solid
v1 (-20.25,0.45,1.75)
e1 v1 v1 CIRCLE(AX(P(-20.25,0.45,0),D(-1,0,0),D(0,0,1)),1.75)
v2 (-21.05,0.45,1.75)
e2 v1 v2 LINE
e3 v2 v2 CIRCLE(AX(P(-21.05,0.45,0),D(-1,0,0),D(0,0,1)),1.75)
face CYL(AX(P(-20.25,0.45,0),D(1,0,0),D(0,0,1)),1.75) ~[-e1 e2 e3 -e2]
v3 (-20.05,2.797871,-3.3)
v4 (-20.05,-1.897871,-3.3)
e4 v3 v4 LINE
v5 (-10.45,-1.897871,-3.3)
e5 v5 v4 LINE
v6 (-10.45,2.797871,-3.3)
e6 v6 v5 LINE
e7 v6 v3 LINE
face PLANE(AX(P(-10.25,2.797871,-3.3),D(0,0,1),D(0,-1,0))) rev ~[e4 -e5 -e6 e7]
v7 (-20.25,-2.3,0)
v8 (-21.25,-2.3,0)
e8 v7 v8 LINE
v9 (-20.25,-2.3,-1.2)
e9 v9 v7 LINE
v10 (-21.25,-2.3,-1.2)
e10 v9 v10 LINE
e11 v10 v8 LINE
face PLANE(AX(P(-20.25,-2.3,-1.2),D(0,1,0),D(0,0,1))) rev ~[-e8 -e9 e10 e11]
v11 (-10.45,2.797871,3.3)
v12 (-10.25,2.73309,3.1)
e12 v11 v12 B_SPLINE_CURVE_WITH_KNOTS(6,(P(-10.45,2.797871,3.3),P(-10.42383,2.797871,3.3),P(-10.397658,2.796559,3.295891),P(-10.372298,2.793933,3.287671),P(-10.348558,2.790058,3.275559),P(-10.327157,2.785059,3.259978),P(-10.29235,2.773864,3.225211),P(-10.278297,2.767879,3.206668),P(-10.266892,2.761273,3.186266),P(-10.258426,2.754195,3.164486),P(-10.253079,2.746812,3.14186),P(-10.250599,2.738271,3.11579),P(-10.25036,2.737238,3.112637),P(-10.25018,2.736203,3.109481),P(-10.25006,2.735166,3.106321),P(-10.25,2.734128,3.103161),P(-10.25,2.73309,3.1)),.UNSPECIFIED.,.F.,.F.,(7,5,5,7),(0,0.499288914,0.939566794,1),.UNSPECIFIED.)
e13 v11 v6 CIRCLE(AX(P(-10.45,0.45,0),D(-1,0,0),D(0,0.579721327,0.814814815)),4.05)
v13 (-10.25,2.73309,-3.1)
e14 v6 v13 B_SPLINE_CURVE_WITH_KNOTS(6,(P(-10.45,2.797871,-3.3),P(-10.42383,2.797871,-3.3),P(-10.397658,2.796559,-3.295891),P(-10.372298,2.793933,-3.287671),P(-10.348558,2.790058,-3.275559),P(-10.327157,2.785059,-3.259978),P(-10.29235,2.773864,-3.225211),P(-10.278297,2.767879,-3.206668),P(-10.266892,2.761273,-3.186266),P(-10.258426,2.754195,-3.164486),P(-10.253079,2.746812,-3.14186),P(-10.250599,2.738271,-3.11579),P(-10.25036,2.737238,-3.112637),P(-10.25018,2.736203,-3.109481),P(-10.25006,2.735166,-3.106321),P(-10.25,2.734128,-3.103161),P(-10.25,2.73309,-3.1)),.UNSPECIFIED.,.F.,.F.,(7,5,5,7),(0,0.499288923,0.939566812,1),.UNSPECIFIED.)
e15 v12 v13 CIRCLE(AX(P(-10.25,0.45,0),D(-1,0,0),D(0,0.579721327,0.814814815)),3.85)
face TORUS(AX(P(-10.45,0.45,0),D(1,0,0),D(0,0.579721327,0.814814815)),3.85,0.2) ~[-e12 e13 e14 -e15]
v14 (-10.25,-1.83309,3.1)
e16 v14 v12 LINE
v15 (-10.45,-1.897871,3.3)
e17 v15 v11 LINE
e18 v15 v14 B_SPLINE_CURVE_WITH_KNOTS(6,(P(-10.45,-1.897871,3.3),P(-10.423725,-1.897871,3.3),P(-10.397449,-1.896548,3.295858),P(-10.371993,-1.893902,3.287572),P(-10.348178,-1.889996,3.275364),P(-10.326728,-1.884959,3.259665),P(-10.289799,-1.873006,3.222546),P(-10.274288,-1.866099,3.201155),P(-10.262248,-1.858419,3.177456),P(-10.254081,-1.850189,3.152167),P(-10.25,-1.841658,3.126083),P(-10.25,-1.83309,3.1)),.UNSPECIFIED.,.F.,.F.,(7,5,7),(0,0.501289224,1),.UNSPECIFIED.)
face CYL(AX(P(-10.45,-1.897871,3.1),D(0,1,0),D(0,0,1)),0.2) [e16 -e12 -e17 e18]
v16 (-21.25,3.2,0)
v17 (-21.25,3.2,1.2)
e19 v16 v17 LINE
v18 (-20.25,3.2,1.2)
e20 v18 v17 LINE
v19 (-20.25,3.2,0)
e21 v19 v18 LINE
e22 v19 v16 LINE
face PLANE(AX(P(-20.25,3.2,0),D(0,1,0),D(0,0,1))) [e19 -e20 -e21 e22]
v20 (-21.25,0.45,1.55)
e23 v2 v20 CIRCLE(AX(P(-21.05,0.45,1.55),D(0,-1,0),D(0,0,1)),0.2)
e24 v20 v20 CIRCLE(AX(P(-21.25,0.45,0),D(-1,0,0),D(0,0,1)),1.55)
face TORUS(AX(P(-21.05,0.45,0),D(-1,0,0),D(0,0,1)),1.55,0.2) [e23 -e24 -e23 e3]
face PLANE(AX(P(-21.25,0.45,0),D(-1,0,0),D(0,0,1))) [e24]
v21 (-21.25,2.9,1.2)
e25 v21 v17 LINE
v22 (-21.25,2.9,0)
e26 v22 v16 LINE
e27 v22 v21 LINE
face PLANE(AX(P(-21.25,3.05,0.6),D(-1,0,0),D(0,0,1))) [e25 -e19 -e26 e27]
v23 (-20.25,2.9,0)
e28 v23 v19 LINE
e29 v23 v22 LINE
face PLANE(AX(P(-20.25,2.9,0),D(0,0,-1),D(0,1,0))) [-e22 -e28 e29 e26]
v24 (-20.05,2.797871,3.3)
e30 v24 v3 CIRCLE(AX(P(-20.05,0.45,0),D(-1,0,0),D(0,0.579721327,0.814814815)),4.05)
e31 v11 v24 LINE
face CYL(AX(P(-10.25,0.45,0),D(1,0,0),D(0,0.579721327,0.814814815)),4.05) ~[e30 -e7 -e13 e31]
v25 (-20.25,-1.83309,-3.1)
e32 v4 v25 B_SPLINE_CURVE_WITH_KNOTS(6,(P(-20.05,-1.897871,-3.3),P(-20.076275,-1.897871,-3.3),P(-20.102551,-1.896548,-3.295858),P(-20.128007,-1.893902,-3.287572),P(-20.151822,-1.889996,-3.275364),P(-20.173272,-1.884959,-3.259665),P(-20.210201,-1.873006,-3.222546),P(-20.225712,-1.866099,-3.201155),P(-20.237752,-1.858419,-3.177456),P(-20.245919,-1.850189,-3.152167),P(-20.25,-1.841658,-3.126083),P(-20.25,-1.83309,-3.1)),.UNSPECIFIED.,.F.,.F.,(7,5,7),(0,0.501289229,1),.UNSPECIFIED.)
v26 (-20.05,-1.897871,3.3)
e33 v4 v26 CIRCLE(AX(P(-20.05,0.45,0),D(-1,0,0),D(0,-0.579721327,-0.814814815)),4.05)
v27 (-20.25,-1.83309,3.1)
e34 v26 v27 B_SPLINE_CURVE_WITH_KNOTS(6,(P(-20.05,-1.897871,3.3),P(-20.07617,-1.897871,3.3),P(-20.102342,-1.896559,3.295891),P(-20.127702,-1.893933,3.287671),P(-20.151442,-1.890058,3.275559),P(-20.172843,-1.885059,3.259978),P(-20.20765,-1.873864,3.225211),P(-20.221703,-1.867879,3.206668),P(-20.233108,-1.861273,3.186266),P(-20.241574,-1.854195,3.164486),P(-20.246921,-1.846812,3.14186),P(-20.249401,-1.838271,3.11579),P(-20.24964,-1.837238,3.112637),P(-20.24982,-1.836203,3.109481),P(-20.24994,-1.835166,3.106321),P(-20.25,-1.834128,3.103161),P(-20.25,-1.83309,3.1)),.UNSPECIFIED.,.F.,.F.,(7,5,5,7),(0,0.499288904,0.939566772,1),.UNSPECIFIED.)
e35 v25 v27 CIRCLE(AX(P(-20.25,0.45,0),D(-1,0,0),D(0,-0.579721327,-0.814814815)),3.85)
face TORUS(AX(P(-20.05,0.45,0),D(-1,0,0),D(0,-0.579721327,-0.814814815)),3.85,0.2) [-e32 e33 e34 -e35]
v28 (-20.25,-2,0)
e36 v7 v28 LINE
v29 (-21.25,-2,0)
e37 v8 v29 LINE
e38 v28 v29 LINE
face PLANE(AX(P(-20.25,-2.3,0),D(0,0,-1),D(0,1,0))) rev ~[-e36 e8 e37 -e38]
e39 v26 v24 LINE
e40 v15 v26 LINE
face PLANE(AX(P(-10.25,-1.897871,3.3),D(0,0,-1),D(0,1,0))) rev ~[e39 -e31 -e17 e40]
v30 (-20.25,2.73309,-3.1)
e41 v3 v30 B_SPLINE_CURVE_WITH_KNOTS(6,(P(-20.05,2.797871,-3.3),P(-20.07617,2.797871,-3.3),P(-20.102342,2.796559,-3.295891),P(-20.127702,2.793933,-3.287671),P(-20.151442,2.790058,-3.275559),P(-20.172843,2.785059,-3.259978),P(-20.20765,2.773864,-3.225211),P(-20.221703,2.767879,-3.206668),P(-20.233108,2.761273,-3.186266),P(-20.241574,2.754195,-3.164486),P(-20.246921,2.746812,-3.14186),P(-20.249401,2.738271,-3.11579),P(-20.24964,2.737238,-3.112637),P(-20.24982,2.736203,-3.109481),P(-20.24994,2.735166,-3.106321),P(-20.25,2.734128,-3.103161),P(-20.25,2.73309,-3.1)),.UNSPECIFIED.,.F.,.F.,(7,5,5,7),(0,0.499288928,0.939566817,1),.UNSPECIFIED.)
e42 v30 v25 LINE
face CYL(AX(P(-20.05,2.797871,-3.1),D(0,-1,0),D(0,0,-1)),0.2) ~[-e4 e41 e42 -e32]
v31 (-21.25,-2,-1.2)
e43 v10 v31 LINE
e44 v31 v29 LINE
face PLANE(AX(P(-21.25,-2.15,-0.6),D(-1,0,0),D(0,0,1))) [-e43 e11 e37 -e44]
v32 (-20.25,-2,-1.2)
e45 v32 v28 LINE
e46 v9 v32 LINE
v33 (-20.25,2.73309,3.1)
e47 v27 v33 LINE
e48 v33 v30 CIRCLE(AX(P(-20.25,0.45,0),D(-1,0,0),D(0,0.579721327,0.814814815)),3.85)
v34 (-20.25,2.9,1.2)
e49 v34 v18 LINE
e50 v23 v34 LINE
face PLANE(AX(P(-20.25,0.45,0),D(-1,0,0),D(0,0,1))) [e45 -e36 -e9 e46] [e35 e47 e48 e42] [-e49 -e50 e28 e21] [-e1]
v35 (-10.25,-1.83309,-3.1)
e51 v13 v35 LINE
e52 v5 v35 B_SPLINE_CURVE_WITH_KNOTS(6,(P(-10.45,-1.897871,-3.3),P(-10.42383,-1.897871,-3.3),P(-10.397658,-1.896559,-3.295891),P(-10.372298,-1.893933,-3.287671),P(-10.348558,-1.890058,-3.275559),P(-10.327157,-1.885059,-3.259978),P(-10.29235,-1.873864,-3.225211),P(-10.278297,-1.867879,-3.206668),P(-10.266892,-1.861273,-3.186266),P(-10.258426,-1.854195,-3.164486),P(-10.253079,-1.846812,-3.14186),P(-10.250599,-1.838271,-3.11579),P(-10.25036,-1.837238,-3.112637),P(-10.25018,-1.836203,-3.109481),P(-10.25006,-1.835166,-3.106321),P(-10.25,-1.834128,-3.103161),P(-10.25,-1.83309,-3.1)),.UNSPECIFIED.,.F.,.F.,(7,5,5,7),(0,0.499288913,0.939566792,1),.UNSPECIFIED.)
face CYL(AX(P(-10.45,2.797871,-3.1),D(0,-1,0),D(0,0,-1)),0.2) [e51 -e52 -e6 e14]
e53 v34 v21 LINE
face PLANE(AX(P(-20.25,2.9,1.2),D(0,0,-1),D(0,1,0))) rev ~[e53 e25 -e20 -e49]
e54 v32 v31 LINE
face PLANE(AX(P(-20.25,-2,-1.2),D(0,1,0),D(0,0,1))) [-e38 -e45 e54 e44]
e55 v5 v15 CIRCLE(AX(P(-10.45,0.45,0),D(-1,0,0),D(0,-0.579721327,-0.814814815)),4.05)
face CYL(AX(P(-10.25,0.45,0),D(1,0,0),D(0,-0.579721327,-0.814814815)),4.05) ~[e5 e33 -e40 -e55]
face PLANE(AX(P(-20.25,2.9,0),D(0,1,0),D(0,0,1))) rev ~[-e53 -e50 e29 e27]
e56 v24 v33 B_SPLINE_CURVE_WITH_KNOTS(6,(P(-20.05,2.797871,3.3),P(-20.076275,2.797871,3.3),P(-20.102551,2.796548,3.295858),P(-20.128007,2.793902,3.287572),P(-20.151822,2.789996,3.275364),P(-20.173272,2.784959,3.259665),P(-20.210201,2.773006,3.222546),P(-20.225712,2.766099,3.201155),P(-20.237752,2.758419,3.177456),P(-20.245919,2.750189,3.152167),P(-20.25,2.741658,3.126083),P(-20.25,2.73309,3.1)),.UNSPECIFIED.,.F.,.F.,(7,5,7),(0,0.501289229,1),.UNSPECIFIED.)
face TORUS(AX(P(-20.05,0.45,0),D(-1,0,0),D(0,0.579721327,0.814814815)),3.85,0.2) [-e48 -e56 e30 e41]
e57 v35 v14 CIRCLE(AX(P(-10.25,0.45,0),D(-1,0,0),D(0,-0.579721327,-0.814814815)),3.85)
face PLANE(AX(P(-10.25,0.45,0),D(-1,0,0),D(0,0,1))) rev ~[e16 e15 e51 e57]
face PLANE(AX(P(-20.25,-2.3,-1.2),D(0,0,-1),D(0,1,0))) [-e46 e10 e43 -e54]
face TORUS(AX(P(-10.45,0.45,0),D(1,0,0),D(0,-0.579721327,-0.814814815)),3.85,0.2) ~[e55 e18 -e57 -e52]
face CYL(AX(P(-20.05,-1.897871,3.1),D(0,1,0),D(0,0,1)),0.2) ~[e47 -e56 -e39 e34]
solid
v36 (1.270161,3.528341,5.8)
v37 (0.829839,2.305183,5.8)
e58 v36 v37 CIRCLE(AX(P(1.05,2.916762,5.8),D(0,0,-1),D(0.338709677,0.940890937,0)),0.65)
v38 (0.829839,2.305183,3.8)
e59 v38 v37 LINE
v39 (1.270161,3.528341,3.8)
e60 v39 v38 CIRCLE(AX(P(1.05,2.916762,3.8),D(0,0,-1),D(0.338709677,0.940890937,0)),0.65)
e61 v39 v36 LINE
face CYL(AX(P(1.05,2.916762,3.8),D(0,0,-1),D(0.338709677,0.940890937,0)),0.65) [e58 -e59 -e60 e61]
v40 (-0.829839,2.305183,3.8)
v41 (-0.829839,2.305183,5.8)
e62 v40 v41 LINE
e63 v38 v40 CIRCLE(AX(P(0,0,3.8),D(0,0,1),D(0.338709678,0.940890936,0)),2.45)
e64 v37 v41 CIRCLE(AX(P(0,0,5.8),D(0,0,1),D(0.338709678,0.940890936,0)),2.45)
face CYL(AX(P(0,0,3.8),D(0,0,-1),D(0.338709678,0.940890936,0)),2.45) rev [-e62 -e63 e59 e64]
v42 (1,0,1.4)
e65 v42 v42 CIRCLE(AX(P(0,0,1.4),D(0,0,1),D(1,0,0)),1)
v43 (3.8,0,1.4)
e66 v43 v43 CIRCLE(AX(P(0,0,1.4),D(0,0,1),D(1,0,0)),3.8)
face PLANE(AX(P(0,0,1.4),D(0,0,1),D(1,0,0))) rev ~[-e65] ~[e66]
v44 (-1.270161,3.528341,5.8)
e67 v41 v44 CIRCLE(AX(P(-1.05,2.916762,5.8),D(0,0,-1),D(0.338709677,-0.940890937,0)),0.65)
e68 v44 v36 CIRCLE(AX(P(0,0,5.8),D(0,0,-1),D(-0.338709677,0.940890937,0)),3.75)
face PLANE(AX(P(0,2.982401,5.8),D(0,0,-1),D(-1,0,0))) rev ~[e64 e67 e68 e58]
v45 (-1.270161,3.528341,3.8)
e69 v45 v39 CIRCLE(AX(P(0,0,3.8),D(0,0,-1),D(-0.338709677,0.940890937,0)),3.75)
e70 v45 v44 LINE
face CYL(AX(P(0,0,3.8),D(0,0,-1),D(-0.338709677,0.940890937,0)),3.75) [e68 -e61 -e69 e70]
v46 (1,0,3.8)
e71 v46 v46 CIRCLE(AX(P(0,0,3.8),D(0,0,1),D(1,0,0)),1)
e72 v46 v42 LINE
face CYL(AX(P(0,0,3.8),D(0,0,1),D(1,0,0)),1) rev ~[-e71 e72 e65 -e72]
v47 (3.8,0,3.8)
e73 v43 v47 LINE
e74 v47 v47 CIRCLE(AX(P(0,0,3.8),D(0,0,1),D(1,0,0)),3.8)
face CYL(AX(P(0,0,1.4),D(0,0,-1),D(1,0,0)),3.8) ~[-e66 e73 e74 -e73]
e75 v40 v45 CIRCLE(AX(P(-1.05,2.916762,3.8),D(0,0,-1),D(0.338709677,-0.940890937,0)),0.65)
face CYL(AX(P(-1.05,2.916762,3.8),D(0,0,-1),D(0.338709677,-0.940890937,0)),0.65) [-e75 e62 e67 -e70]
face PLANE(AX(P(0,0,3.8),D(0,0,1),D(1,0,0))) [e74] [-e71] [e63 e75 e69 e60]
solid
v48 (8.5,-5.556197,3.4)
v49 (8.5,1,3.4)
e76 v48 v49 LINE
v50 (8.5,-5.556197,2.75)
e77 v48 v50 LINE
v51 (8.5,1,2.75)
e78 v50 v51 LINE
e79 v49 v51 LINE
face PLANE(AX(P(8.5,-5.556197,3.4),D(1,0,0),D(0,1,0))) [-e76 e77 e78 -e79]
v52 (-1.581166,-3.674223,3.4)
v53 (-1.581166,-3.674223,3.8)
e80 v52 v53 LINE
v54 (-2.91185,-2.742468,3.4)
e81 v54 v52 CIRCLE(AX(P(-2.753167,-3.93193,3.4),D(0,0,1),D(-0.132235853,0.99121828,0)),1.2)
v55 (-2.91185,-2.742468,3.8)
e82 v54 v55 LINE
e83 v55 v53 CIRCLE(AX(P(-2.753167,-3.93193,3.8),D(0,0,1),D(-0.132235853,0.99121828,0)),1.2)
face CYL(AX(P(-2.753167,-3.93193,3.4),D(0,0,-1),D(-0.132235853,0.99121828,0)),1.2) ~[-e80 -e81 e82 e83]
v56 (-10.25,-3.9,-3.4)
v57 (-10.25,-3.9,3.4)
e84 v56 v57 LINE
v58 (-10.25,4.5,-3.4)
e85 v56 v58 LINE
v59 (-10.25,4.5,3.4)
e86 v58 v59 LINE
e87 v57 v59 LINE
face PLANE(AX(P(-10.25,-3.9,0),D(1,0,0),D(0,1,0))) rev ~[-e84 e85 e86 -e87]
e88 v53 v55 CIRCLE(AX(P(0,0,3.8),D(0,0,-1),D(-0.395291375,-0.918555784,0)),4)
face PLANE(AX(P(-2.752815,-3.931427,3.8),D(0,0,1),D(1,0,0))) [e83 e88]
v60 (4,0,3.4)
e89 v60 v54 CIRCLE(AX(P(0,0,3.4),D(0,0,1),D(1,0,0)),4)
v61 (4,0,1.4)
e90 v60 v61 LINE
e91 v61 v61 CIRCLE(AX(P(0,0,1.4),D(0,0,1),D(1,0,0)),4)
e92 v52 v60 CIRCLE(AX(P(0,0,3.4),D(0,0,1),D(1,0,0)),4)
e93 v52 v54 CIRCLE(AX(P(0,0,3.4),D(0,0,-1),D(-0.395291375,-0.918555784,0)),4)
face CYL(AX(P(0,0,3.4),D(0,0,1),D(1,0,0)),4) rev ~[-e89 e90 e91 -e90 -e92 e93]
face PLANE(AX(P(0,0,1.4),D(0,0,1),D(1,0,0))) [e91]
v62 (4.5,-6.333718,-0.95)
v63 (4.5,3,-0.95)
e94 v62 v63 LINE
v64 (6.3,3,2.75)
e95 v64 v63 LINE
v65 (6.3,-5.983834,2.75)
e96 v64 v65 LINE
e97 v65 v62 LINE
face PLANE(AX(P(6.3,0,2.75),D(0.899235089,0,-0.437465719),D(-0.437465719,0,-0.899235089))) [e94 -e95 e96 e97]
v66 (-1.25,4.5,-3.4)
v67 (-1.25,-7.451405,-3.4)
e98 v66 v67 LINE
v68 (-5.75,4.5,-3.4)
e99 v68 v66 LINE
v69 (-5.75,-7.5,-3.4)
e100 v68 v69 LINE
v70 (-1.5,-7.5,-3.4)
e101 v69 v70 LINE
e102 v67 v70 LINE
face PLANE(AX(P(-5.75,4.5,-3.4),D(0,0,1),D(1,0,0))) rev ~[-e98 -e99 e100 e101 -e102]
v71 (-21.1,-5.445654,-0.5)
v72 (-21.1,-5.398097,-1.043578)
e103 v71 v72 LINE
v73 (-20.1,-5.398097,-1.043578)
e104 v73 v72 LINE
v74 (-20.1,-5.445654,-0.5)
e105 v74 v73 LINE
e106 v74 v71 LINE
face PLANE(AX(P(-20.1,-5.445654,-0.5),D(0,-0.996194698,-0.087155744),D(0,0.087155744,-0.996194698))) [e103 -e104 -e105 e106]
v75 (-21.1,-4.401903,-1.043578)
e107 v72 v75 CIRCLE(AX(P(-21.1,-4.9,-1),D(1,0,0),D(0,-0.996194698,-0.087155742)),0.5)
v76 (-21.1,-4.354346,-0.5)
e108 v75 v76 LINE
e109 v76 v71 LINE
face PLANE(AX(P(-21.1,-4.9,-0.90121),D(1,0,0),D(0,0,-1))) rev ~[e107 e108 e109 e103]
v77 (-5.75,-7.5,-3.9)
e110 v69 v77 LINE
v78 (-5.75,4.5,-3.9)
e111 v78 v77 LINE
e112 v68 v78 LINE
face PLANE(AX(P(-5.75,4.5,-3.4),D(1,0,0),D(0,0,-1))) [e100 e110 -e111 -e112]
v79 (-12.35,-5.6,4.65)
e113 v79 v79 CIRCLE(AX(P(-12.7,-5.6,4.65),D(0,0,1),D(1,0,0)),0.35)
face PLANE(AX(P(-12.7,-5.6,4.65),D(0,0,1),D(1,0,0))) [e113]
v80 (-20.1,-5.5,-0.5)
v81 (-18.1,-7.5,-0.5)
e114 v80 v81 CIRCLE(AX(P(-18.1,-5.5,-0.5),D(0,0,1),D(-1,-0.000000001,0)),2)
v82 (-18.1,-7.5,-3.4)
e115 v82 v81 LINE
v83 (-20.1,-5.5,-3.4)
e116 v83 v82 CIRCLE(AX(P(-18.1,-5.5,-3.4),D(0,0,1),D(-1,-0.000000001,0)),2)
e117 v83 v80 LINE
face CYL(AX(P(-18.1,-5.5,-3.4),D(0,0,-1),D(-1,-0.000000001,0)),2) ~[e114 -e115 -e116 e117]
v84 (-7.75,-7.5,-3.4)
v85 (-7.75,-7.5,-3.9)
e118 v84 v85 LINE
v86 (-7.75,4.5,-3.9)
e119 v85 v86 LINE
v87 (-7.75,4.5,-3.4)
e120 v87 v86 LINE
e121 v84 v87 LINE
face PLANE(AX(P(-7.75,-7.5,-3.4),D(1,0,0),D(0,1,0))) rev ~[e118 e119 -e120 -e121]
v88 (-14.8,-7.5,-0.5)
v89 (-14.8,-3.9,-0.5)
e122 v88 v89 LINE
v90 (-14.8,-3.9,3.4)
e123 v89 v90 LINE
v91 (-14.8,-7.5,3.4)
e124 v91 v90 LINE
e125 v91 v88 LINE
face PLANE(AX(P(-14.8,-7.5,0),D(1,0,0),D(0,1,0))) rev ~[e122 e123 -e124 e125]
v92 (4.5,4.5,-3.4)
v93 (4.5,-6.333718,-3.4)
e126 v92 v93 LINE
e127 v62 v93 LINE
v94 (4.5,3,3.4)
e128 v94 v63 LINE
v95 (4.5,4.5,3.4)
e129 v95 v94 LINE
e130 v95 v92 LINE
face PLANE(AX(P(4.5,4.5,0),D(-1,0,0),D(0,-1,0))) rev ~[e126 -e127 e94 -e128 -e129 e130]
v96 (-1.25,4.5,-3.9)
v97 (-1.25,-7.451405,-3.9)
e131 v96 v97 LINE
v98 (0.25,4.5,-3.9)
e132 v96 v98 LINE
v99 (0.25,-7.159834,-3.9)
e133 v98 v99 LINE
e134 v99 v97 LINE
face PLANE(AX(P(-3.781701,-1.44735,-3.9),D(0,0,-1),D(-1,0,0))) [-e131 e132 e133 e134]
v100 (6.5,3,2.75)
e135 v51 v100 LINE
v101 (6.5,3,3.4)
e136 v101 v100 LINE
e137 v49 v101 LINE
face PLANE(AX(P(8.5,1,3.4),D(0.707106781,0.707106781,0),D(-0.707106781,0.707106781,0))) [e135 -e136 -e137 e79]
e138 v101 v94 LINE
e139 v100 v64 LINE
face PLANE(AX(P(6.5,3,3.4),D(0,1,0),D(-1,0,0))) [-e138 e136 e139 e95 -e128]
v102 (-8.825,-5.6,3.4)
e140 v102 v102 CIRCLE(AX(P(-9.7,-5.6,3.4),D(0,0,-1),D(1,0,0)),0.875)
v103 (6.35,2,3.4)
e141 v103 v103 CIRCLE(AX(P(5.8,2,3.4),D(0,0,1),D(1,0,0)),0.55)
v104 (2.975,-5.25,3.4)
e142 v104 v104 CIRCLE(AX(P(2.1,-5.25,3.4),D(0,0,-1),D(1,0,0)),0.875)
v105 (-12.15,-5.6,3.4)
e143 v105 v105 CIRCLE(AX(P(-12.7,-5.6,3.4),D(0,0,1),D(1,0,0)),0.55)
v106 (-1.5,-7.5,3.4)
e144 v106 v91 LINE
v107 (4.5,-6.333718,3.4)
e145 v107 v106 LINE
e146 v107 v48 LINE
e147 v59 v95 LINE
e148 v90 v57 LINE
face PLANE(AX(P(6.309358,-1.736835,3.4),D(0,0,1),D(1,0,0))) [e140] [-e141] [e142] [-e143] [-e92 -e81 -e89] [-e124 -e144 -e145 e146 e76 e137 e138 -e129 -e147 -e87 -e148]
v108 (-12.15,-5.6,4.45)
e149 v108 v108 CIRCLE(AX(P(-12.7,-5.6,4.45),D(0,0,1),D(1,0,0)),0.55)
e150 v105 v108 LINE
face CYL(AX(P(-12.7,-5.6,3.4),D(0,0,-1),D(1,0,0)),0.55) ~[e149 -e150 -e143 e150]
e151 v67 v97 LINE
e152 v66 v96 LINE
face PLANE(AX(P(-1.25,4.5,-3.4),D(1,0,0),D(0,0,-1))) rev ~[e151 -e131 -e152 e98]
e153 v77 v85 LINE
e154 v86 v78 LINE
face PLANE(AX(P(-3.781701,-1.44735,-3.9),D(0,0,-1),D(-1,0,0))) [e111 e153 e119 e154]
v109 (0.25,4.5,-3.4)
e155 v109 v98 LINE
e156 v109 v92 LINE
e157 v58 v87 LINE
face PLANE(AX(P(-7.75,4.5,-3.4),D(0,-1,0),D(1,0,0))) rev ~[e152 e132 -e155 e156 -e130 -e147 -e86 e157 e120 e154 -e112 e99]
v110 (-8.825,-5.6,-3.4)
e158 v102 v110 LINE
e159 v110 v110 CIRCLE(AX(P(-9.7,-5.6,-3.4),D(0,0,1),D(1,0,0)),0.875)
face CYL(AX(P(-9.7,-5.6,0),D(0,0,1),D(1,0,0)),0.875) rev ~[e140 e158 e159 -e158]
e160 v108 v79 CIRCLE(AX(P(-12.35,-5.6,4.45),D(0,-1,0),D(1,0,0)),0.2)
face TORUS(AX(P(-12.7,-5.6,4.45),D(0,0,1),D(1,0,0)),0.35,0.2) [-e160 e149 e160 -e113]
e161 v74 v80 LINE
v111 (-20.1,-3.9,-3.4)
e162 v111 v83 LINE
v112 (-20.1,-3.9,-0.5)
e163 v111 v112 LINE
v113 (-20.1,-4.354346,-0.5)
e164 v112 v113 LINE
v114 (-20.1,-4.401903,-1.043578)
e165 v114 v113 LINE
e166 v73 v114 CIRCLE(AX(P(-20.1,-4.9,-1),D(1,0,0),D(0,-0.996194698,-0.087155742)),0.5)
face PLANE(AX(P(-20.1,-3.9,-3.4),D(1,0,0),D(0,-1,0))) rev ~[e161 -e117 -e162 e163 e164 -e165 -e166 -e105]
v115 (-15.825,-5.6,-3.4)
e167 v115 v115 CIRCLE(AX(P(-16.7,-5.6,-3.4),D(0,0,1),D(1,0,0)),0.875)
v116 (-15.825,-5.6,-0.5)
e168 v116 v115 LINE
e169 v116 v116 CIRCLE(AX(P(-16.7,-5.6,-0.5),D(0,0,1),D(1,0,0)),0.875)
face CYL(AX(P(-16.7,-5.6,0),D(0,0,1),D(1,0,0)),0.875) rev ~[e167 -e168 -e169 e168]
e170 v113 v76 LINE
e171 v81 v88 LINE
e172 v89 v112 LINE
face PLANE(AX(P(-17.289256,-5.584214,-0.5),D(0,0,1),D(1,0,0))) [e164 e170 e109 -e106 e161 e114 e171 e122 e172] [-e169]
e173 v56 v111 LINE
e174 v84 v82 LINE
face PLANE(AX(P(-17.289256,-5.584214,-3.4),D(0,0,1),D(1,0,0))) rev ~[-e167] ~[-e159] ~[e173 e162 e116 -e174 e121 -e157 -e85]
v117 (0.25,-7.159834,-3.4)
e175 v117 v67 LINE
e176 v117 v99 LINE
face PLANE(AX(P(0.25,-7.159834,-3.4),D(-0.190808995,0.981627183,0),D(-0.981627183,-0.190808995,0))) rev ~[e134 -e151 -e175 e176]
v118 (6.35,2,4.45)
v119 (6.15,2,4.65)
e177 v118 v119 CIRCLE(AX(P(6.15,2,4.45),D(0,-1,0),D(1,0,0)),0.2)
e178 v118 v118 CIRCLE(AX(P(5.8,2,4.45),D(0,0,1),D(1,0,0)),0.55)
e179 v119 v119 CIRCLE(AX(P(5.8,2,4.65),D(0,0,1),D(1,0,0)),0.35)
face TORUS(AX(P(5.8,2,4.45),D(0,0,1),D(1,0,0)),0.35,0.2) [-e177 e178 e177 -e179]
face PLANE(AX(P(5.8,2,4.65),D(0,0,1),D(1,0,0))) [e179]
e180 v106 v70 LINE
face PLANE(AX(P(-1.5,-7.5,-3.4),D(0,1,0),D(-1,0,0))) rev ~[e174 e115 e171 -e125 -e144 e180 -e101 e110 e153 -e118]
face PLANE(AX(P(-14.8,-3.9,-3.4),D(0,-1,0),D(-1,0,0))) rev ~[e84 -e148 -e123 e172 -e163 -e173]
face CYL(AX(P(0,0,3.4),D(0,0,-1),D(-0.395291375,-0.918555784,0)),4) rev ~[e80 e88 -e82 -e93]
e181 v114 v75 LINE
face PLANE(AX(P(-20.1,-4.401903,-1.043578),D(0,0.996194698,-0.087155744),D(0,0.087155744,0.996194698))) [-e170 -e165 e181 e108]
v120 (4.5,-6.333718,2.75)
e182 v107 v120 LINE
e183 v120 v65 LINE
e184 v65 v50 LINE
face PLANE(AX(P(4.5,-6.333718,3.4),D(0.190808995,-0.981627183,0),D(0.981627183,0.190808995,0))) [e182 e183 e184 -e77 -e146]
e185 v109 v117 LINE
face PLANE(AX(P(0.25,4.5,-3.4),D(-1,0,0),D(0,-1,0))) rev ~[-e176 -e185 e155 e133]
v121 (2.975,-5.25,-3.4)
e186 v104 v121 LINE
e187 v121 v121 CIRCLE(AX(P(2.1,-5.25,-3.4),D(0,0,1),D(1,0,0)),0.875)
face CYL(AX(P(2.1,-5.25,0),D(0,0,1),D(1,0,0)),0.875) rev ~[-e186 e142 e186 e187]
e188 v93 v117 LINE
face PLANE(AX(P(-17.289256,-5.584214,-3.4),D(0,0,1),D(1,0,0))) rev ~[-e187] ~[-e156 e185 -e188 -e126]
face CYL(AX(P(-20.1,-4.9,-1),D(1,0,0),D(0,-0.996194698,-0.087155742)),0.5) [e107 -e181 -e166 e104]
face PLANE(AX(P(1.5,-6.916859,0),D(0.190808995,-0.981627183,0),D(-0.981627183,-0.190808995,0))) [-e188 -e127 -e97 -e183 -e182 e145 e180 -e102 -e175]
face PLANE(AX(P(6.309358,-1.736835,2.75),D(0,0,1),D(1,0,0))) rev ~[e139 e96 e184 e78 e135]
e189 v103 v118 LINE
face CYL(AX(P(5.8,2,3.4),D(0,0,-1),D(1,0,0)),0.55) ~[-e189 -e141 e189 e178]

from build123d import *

# Parameters (mm, degrees)
BOSS_EXTRUDE1_DEPTH              = 3.4
BOSS_EXTRUDE2_DEPTH              = 10
FILLET1_R                        = 0.2
SKETCH3_R                        = 4
CUT_EXTRUDE1_DEPTH               = 2
SKETCH4_R                        = 3.8
BOSS_EXTRUDE3_DEPTH              = 2.4
SKETCH5_R                        = 1
CUT_EXTRUDE2_DEPTH               = 8.2
BOSS_EXTRUDE4_DEPTH              = 2
BOSS_EXTRUDE5_DEPTH              = 0.65
BOSS_EXTRUDE6_DEPTH              = 2.9
SKETCH9_R                        = 0.875
CUT_EXTRUDE3_DEPTH               = 6.8
CUT_EXTRUDE3_DEPTH_BACK          = 4.4
SKETCH10_R                       = 0.55
BOSS_EXTRUDE7_DEPTH              = 1.25
FILLET2_R                        = 0.2
BOSS_EXTRUDE8_DEPTH              = 0.4
BOSS_EXTRUDE9_DEPTH              = 1
SKETCH13_R                       = 1.75
BOSS_EXTRUDE10_DEPTH             = 1
FILLET3_R                        = 0.2
SKETCH14_W                       = 1.2
SKETCH14_H                       = 0.3
BOSS_EXTRUDE11_DEPTH             = 1
BOSS_EXTRUDE12_REACH             = 6.5
BOSS_EXTRUDE12_DIRECTION_2_REACH = 9.5
BOSS_EXTRUDE13_DEPTH             = 0.5
SKETCH17_W                       = 4.5
SKETCH17_H                       = 0.5
CUT_EXTRUDE4_DEPTH               = 13


with BuildPart() as part:
    # Sketch1 → Boss-Extrude1 (new body, symmetric)
    with BuildSketch(Plane.XY):
        Polygon((-10.25, 4.5), (4.5, 4.5), (4.5, -6.333718145), (-1.5, -7.5), (-14.8, -7.5), (-14.8, -3.9), (-10.25, -3.9), align=None)
    extrude(amount=BOSS_EXTRUDE1_DEPTH, both=True)

    # Sketch3 → Cut-Extrude1 (cut)
    with BuildSketch(Plane.XY.offset(3.4)):
        Circle(SKETCH3_R)
    extrude(amount=-CUT_EXTRUDE1_DEPTH, mode=Mode.SUBTRACT)

    # Sketch7 → Boss-Extrude5 (add)
    with BuildSketch(Plane.XY.offset(3.4)):
        Polygon((4.5, 3), (4.5, -6.333718145), (8.5, -5.556196909), (8.5, 1), (6.5, 3), align=None)
    extrude(amount=-BOSS_EXTRUDE5_DEPTH)

    # Sketch8 → Boss-Extrude6 (add)
    with BuildSketch(Plane(origin=(0, 0, -3.4), x_dir=(-1, 0, 0), z_dir=(0, 0, -1))):
        with BuildLine():
            Line((14.8, -7.5), (14.8, -3.9))
            Line((14.8, -3.9), (20.1, -3.9))
            Line((20.1, -3.9), (20.1, -5.5))
            ThreePointArc((20.1, -5.5), (19.514213562, -6.914213562), (18.1, -7.5))
            Line((18.1, -7.5), (14.8, -7.5))
        make_face()
    extrude(amount=-BOSS_EXTRUDE6_DEPTH)

    # Sketch9 → Cut-Extrude3 (cut, two sides)
    with BuildSketch(Plane.XY) as cut_extrude3_sk:
        with Locations((-16.7, -5.6)):
            Circle(SKETCH9_R)
        with Locations((-9.7, -5.6)):
            Circle(SKETCH9_R)
        with Locations((2.1, -5.25)):
            Circle(SKETCH9_R)
    extrude(amount=CUT_EXTRUDE3_DEPTH, mode=Mode.SUBTRACT)
    extrude(cut_extrude3_sk.sketch, amount=-CUT_EXTRUDE3_DEPTH_BACK, mode=Mode.SUBTRACT)

    # Sketch10 → Boss-Extrude7 (add)
    with BuildSketch(Plane.XY.offset(3.4)):
        with Locations((-12.7, -5.6)):
            Circle(SKETCH10_R)
        with Locations((5.8, 2)):
            Circle(SKETCH10_R)
    extrude(amount=BOSS_EXTRUDE7_DEPTH)

    # Fillet2
    fillet2_edges = [part.edges().sort_by_distance(p)[0] for p in [
        (-13.25, -5.6, 4.65),
        (5.25, 2, 4.65),
    ]]
    fillet(fillet2_edges, radius=FILLET2_R)

    # Sketch11 → Boss-Extrude8 (add)
    with BuildSketch(Plane.XY.offset(3.4)):
        with BuildLine():
            ThreePointArc((-2.911849918, -2.742467876), (-3.441458618, -4.914912266), (-1.5811655, -3.674223137))
            ThreePointArc((-1.5811655, -3.674223137), (-2.294305745, -3.276608177), (-2.911849918, -2.742467876))
        make_face()
    extrude(amount=BOSS_EXTRUDE8_DEPTH)

    # Sketch12 → Boss-Extrude9 (add)
    with BuildSketch(Plane.ZY.offset(20.1)):
        with BuildLine():
            Line((-1.043577871, -4.401902651), (-0.5, -4.354345749))
            Line((-0.5, -4.354345749), (-0.5, -5.445654251))
            Line((-0.5, -5.445654251), (-1.043577871, -5.398097349))
            ThreePointArc((-1.043577871, -5.398097349), (-1.5, -4.9), (-1.043577871, -4.401902651))
        make_face()
    extrude(amount=BOSS_EXTRUDE9_DEPTH)

    # Boss-Extrude12: up to this face of the body (flat: up to its plane)
    boss_extrude12_end = Plane(part.part.faces().sort_by_distance((5.5, 3, 3.075))[0])
    # Sketch15 → Boss-Extrude12 (add, up to the picked face)
    with BuildSketch(Plane(origin=(0, 0, 0), x_dir=(1, 0, 0), z_dir=(0, 1, 0)), mode=Mode.PRIVATE) as boss_extrude12_sk1:
        Polygon((4.5, -2.75), (6.3, -2.75), (4.5, 0.95), align=None)
    boss_extrude12_tool1 = split(extrude(boss_extrude12_sk1.sketch, amount=BOSS_EXTRUDE12_REACH, mode=Mode.PRIVATE), bisect_by=boss_extrude12_end, keep=Keep.BOTH, mode=Mode.PRIVATE)
    add(boss_extrude12_tool1.solids().sort_by_distance((5.1, 0, 1.516667))[0])

    # Boss-Extrude12 direction 2: up to this face of the body (flat: up to its plane)
    boss_extrude12_direction_2_end = Plane(part.part.faces().sort_by_distance((1.799539171, -6.858634556, 0.18421659))[0])
    # Sketch15 → Boss-Extrude12 direction 2 (add, up to the picked face)
    with BuildSketch(Plane(origin=(0, 0, 0), x_dir=(1, 0, 0), z_dir=(0, 1, 0)), mode=Mode.PRIVATE) as boss_extrude12_direction_2_sk1:
        Polygon((4.5, -2.75), (6.3, -2.75), (4.5, 0.95), align=None)
    boss_extrude12_direction_2_tool1 = split(extrude(boss_extrude12_direction_2_sk1.sketch, amount=-BOSS_EXTRUDE12_DIRECTION_2_REACH, mode=Mode.PRIVATE), bisect_by=boss_extrude12_direction_2_end, keep=Keep.BOTH, mode=Mode.PRIVATE)
    add(boss_extrude12_direction_2_tool1.solids().sort_by_distance((5.1, 0, 1.516667))[0])

    # Sketch16 → Boss-Extrude13 (add)
    with BuildSketch(Plane(origin=(0, 0, -3.4), x_dir=(-1, 0, 0), z_dir=(0, 0, -1))):
        Polygon((7.75, 4.5), (-0.25, 4.5), (-0.25, -7.159834459), (1.5, -7.5), (7.75, -7.5), align=None)
    extrude(amount=BOSS_EXTRUDE13_DEPTH)

    # Sketch17 → Cut-Extrude4 (cut, through all)
    with BuildSketch(Plane(origin=(0, 4.5, 0), x_dir=(1, 0, 0), z_dir=(0, 1, 0))):
        with Locations((-3.5, 3.65)):
            Rectangle(SKETCH17_W, SKETCH17_H)
    extrude(amount=-CUT_EXTRUDE4_DEPTH, mode=Mode.SUBTRACT)


with BuildPart() as body_2:
    # Sketch2 → Boss-Extrude2 (new body)
    with BuildSketch(Plane.ZY.offset(10.25)):
        with BuildLine():
            Line((-3.3, 2.797871376), (-3.3, -1.897871376))
            ThreePointArc((-3.3, -1.897871376), (0, -3.6), (3.3, -1.897871376))
            Line((3.3, -1.897871376), (3.3, 2.797871376))
            ThreePointArc((3.3, 2.797871376), (0, 4.5), (-3.3, 2.797871376))
        make_face()
    extrude(amount=BOSS_EXTRUDE2_DEPTH)

    # Fillet1
    fillet1_edges = [body_2.edges().sort_by_distance(p)[0] for p in [
        (-20.25, -3.6, 0),
        (-20.25, 0.45, 3.3),
        (-20.25, 4.5, 0),
        (-10.25, 0.45, 3.3),
        (-10.25, -3.6, 0),
        (-10.25, 0.45, -3.3),
        (-10.25, 4.5, 0),
        (-20.25, 0.45, -3.3),
    ]]
    fillet(fillet1_edges, radius=FILLET1_R)

    # Sketch13 → Boss-Extrude10 (add)
    with BuildSketch(Plane.ZY.offset(20.25)):
        with Locations((0, 0.45)):
            Circle(SKETCH13_R)
    extrude(amount=BOSS_EXTRUDE10_DEPTH)

    # Fillet3
    fillet3_edges = [body_2.edges().sort_by_distance(p)[0] for p in [
        (-21.25, 0.45, -1.75),
    ]]
    fillet(fillet3_edges, radius=FILLET3_R)

    # Sketch14 → Boss-Extrude11 (add)
    with BuildSketch(Plane.ZY.offset(20.25)):
        with Locations((0.6, 3.05)):
            Rectangle(SKETCH14_W, SKETCH14_H)
        with Locations((-0.6, -2.15)):
            Rectangle(SKETCH14_W, SKETCH14_H)
    extrude(amount=BOSS_EXTRUDE11_DEPTH)


with BuildPart() as body_3:
    # Sketch4 → Boss-Extrude3 (new body)
    with BuildSketch(Plane.XY.offset(1.4)):
        Circle(SKETCH4_R)
    extrude(amount=BOSS_EXTRUDE3_DEPTH)

    # Sketch5 → Cut-Extrude2 (cut, through all)
    with BuildSketch(Plane.XY.offset(3.8)):
        Circle(SKETCH5_R)
    extrude(amount=-CUT_EXTRUDE2_DEPTH, mode=Mode.SUBTRACT)

    # Sketch6 → Boss-Extrude4 (add)
    with BuildSketch(Plane.XY.offset(3.8)):
        with BuildLine():
            ThreePointArc((0.82983871, 2.305182794), (0, 2.45), (-0.82983871, 2.305182794))
            ThreePointArc((-0.82983871, 2.305182794), (-1.661579109, 2.696600613), (-1.27016129, 3.528341012))
            ThreePointArc((-1.27016129, 3.528341012), (0, 3.75), (1.27016129, 3.528341012))
            ThreePointArc((1.27016129, 3.528341012), (1.661579109, 2.696600613), (0.82983871, 2.305182794))
        make_face()
    extrude(amount=BOSS_EXTRUDE4_DEPTH)


solid = Compound([part.part, body_2.part, body_3.part])
